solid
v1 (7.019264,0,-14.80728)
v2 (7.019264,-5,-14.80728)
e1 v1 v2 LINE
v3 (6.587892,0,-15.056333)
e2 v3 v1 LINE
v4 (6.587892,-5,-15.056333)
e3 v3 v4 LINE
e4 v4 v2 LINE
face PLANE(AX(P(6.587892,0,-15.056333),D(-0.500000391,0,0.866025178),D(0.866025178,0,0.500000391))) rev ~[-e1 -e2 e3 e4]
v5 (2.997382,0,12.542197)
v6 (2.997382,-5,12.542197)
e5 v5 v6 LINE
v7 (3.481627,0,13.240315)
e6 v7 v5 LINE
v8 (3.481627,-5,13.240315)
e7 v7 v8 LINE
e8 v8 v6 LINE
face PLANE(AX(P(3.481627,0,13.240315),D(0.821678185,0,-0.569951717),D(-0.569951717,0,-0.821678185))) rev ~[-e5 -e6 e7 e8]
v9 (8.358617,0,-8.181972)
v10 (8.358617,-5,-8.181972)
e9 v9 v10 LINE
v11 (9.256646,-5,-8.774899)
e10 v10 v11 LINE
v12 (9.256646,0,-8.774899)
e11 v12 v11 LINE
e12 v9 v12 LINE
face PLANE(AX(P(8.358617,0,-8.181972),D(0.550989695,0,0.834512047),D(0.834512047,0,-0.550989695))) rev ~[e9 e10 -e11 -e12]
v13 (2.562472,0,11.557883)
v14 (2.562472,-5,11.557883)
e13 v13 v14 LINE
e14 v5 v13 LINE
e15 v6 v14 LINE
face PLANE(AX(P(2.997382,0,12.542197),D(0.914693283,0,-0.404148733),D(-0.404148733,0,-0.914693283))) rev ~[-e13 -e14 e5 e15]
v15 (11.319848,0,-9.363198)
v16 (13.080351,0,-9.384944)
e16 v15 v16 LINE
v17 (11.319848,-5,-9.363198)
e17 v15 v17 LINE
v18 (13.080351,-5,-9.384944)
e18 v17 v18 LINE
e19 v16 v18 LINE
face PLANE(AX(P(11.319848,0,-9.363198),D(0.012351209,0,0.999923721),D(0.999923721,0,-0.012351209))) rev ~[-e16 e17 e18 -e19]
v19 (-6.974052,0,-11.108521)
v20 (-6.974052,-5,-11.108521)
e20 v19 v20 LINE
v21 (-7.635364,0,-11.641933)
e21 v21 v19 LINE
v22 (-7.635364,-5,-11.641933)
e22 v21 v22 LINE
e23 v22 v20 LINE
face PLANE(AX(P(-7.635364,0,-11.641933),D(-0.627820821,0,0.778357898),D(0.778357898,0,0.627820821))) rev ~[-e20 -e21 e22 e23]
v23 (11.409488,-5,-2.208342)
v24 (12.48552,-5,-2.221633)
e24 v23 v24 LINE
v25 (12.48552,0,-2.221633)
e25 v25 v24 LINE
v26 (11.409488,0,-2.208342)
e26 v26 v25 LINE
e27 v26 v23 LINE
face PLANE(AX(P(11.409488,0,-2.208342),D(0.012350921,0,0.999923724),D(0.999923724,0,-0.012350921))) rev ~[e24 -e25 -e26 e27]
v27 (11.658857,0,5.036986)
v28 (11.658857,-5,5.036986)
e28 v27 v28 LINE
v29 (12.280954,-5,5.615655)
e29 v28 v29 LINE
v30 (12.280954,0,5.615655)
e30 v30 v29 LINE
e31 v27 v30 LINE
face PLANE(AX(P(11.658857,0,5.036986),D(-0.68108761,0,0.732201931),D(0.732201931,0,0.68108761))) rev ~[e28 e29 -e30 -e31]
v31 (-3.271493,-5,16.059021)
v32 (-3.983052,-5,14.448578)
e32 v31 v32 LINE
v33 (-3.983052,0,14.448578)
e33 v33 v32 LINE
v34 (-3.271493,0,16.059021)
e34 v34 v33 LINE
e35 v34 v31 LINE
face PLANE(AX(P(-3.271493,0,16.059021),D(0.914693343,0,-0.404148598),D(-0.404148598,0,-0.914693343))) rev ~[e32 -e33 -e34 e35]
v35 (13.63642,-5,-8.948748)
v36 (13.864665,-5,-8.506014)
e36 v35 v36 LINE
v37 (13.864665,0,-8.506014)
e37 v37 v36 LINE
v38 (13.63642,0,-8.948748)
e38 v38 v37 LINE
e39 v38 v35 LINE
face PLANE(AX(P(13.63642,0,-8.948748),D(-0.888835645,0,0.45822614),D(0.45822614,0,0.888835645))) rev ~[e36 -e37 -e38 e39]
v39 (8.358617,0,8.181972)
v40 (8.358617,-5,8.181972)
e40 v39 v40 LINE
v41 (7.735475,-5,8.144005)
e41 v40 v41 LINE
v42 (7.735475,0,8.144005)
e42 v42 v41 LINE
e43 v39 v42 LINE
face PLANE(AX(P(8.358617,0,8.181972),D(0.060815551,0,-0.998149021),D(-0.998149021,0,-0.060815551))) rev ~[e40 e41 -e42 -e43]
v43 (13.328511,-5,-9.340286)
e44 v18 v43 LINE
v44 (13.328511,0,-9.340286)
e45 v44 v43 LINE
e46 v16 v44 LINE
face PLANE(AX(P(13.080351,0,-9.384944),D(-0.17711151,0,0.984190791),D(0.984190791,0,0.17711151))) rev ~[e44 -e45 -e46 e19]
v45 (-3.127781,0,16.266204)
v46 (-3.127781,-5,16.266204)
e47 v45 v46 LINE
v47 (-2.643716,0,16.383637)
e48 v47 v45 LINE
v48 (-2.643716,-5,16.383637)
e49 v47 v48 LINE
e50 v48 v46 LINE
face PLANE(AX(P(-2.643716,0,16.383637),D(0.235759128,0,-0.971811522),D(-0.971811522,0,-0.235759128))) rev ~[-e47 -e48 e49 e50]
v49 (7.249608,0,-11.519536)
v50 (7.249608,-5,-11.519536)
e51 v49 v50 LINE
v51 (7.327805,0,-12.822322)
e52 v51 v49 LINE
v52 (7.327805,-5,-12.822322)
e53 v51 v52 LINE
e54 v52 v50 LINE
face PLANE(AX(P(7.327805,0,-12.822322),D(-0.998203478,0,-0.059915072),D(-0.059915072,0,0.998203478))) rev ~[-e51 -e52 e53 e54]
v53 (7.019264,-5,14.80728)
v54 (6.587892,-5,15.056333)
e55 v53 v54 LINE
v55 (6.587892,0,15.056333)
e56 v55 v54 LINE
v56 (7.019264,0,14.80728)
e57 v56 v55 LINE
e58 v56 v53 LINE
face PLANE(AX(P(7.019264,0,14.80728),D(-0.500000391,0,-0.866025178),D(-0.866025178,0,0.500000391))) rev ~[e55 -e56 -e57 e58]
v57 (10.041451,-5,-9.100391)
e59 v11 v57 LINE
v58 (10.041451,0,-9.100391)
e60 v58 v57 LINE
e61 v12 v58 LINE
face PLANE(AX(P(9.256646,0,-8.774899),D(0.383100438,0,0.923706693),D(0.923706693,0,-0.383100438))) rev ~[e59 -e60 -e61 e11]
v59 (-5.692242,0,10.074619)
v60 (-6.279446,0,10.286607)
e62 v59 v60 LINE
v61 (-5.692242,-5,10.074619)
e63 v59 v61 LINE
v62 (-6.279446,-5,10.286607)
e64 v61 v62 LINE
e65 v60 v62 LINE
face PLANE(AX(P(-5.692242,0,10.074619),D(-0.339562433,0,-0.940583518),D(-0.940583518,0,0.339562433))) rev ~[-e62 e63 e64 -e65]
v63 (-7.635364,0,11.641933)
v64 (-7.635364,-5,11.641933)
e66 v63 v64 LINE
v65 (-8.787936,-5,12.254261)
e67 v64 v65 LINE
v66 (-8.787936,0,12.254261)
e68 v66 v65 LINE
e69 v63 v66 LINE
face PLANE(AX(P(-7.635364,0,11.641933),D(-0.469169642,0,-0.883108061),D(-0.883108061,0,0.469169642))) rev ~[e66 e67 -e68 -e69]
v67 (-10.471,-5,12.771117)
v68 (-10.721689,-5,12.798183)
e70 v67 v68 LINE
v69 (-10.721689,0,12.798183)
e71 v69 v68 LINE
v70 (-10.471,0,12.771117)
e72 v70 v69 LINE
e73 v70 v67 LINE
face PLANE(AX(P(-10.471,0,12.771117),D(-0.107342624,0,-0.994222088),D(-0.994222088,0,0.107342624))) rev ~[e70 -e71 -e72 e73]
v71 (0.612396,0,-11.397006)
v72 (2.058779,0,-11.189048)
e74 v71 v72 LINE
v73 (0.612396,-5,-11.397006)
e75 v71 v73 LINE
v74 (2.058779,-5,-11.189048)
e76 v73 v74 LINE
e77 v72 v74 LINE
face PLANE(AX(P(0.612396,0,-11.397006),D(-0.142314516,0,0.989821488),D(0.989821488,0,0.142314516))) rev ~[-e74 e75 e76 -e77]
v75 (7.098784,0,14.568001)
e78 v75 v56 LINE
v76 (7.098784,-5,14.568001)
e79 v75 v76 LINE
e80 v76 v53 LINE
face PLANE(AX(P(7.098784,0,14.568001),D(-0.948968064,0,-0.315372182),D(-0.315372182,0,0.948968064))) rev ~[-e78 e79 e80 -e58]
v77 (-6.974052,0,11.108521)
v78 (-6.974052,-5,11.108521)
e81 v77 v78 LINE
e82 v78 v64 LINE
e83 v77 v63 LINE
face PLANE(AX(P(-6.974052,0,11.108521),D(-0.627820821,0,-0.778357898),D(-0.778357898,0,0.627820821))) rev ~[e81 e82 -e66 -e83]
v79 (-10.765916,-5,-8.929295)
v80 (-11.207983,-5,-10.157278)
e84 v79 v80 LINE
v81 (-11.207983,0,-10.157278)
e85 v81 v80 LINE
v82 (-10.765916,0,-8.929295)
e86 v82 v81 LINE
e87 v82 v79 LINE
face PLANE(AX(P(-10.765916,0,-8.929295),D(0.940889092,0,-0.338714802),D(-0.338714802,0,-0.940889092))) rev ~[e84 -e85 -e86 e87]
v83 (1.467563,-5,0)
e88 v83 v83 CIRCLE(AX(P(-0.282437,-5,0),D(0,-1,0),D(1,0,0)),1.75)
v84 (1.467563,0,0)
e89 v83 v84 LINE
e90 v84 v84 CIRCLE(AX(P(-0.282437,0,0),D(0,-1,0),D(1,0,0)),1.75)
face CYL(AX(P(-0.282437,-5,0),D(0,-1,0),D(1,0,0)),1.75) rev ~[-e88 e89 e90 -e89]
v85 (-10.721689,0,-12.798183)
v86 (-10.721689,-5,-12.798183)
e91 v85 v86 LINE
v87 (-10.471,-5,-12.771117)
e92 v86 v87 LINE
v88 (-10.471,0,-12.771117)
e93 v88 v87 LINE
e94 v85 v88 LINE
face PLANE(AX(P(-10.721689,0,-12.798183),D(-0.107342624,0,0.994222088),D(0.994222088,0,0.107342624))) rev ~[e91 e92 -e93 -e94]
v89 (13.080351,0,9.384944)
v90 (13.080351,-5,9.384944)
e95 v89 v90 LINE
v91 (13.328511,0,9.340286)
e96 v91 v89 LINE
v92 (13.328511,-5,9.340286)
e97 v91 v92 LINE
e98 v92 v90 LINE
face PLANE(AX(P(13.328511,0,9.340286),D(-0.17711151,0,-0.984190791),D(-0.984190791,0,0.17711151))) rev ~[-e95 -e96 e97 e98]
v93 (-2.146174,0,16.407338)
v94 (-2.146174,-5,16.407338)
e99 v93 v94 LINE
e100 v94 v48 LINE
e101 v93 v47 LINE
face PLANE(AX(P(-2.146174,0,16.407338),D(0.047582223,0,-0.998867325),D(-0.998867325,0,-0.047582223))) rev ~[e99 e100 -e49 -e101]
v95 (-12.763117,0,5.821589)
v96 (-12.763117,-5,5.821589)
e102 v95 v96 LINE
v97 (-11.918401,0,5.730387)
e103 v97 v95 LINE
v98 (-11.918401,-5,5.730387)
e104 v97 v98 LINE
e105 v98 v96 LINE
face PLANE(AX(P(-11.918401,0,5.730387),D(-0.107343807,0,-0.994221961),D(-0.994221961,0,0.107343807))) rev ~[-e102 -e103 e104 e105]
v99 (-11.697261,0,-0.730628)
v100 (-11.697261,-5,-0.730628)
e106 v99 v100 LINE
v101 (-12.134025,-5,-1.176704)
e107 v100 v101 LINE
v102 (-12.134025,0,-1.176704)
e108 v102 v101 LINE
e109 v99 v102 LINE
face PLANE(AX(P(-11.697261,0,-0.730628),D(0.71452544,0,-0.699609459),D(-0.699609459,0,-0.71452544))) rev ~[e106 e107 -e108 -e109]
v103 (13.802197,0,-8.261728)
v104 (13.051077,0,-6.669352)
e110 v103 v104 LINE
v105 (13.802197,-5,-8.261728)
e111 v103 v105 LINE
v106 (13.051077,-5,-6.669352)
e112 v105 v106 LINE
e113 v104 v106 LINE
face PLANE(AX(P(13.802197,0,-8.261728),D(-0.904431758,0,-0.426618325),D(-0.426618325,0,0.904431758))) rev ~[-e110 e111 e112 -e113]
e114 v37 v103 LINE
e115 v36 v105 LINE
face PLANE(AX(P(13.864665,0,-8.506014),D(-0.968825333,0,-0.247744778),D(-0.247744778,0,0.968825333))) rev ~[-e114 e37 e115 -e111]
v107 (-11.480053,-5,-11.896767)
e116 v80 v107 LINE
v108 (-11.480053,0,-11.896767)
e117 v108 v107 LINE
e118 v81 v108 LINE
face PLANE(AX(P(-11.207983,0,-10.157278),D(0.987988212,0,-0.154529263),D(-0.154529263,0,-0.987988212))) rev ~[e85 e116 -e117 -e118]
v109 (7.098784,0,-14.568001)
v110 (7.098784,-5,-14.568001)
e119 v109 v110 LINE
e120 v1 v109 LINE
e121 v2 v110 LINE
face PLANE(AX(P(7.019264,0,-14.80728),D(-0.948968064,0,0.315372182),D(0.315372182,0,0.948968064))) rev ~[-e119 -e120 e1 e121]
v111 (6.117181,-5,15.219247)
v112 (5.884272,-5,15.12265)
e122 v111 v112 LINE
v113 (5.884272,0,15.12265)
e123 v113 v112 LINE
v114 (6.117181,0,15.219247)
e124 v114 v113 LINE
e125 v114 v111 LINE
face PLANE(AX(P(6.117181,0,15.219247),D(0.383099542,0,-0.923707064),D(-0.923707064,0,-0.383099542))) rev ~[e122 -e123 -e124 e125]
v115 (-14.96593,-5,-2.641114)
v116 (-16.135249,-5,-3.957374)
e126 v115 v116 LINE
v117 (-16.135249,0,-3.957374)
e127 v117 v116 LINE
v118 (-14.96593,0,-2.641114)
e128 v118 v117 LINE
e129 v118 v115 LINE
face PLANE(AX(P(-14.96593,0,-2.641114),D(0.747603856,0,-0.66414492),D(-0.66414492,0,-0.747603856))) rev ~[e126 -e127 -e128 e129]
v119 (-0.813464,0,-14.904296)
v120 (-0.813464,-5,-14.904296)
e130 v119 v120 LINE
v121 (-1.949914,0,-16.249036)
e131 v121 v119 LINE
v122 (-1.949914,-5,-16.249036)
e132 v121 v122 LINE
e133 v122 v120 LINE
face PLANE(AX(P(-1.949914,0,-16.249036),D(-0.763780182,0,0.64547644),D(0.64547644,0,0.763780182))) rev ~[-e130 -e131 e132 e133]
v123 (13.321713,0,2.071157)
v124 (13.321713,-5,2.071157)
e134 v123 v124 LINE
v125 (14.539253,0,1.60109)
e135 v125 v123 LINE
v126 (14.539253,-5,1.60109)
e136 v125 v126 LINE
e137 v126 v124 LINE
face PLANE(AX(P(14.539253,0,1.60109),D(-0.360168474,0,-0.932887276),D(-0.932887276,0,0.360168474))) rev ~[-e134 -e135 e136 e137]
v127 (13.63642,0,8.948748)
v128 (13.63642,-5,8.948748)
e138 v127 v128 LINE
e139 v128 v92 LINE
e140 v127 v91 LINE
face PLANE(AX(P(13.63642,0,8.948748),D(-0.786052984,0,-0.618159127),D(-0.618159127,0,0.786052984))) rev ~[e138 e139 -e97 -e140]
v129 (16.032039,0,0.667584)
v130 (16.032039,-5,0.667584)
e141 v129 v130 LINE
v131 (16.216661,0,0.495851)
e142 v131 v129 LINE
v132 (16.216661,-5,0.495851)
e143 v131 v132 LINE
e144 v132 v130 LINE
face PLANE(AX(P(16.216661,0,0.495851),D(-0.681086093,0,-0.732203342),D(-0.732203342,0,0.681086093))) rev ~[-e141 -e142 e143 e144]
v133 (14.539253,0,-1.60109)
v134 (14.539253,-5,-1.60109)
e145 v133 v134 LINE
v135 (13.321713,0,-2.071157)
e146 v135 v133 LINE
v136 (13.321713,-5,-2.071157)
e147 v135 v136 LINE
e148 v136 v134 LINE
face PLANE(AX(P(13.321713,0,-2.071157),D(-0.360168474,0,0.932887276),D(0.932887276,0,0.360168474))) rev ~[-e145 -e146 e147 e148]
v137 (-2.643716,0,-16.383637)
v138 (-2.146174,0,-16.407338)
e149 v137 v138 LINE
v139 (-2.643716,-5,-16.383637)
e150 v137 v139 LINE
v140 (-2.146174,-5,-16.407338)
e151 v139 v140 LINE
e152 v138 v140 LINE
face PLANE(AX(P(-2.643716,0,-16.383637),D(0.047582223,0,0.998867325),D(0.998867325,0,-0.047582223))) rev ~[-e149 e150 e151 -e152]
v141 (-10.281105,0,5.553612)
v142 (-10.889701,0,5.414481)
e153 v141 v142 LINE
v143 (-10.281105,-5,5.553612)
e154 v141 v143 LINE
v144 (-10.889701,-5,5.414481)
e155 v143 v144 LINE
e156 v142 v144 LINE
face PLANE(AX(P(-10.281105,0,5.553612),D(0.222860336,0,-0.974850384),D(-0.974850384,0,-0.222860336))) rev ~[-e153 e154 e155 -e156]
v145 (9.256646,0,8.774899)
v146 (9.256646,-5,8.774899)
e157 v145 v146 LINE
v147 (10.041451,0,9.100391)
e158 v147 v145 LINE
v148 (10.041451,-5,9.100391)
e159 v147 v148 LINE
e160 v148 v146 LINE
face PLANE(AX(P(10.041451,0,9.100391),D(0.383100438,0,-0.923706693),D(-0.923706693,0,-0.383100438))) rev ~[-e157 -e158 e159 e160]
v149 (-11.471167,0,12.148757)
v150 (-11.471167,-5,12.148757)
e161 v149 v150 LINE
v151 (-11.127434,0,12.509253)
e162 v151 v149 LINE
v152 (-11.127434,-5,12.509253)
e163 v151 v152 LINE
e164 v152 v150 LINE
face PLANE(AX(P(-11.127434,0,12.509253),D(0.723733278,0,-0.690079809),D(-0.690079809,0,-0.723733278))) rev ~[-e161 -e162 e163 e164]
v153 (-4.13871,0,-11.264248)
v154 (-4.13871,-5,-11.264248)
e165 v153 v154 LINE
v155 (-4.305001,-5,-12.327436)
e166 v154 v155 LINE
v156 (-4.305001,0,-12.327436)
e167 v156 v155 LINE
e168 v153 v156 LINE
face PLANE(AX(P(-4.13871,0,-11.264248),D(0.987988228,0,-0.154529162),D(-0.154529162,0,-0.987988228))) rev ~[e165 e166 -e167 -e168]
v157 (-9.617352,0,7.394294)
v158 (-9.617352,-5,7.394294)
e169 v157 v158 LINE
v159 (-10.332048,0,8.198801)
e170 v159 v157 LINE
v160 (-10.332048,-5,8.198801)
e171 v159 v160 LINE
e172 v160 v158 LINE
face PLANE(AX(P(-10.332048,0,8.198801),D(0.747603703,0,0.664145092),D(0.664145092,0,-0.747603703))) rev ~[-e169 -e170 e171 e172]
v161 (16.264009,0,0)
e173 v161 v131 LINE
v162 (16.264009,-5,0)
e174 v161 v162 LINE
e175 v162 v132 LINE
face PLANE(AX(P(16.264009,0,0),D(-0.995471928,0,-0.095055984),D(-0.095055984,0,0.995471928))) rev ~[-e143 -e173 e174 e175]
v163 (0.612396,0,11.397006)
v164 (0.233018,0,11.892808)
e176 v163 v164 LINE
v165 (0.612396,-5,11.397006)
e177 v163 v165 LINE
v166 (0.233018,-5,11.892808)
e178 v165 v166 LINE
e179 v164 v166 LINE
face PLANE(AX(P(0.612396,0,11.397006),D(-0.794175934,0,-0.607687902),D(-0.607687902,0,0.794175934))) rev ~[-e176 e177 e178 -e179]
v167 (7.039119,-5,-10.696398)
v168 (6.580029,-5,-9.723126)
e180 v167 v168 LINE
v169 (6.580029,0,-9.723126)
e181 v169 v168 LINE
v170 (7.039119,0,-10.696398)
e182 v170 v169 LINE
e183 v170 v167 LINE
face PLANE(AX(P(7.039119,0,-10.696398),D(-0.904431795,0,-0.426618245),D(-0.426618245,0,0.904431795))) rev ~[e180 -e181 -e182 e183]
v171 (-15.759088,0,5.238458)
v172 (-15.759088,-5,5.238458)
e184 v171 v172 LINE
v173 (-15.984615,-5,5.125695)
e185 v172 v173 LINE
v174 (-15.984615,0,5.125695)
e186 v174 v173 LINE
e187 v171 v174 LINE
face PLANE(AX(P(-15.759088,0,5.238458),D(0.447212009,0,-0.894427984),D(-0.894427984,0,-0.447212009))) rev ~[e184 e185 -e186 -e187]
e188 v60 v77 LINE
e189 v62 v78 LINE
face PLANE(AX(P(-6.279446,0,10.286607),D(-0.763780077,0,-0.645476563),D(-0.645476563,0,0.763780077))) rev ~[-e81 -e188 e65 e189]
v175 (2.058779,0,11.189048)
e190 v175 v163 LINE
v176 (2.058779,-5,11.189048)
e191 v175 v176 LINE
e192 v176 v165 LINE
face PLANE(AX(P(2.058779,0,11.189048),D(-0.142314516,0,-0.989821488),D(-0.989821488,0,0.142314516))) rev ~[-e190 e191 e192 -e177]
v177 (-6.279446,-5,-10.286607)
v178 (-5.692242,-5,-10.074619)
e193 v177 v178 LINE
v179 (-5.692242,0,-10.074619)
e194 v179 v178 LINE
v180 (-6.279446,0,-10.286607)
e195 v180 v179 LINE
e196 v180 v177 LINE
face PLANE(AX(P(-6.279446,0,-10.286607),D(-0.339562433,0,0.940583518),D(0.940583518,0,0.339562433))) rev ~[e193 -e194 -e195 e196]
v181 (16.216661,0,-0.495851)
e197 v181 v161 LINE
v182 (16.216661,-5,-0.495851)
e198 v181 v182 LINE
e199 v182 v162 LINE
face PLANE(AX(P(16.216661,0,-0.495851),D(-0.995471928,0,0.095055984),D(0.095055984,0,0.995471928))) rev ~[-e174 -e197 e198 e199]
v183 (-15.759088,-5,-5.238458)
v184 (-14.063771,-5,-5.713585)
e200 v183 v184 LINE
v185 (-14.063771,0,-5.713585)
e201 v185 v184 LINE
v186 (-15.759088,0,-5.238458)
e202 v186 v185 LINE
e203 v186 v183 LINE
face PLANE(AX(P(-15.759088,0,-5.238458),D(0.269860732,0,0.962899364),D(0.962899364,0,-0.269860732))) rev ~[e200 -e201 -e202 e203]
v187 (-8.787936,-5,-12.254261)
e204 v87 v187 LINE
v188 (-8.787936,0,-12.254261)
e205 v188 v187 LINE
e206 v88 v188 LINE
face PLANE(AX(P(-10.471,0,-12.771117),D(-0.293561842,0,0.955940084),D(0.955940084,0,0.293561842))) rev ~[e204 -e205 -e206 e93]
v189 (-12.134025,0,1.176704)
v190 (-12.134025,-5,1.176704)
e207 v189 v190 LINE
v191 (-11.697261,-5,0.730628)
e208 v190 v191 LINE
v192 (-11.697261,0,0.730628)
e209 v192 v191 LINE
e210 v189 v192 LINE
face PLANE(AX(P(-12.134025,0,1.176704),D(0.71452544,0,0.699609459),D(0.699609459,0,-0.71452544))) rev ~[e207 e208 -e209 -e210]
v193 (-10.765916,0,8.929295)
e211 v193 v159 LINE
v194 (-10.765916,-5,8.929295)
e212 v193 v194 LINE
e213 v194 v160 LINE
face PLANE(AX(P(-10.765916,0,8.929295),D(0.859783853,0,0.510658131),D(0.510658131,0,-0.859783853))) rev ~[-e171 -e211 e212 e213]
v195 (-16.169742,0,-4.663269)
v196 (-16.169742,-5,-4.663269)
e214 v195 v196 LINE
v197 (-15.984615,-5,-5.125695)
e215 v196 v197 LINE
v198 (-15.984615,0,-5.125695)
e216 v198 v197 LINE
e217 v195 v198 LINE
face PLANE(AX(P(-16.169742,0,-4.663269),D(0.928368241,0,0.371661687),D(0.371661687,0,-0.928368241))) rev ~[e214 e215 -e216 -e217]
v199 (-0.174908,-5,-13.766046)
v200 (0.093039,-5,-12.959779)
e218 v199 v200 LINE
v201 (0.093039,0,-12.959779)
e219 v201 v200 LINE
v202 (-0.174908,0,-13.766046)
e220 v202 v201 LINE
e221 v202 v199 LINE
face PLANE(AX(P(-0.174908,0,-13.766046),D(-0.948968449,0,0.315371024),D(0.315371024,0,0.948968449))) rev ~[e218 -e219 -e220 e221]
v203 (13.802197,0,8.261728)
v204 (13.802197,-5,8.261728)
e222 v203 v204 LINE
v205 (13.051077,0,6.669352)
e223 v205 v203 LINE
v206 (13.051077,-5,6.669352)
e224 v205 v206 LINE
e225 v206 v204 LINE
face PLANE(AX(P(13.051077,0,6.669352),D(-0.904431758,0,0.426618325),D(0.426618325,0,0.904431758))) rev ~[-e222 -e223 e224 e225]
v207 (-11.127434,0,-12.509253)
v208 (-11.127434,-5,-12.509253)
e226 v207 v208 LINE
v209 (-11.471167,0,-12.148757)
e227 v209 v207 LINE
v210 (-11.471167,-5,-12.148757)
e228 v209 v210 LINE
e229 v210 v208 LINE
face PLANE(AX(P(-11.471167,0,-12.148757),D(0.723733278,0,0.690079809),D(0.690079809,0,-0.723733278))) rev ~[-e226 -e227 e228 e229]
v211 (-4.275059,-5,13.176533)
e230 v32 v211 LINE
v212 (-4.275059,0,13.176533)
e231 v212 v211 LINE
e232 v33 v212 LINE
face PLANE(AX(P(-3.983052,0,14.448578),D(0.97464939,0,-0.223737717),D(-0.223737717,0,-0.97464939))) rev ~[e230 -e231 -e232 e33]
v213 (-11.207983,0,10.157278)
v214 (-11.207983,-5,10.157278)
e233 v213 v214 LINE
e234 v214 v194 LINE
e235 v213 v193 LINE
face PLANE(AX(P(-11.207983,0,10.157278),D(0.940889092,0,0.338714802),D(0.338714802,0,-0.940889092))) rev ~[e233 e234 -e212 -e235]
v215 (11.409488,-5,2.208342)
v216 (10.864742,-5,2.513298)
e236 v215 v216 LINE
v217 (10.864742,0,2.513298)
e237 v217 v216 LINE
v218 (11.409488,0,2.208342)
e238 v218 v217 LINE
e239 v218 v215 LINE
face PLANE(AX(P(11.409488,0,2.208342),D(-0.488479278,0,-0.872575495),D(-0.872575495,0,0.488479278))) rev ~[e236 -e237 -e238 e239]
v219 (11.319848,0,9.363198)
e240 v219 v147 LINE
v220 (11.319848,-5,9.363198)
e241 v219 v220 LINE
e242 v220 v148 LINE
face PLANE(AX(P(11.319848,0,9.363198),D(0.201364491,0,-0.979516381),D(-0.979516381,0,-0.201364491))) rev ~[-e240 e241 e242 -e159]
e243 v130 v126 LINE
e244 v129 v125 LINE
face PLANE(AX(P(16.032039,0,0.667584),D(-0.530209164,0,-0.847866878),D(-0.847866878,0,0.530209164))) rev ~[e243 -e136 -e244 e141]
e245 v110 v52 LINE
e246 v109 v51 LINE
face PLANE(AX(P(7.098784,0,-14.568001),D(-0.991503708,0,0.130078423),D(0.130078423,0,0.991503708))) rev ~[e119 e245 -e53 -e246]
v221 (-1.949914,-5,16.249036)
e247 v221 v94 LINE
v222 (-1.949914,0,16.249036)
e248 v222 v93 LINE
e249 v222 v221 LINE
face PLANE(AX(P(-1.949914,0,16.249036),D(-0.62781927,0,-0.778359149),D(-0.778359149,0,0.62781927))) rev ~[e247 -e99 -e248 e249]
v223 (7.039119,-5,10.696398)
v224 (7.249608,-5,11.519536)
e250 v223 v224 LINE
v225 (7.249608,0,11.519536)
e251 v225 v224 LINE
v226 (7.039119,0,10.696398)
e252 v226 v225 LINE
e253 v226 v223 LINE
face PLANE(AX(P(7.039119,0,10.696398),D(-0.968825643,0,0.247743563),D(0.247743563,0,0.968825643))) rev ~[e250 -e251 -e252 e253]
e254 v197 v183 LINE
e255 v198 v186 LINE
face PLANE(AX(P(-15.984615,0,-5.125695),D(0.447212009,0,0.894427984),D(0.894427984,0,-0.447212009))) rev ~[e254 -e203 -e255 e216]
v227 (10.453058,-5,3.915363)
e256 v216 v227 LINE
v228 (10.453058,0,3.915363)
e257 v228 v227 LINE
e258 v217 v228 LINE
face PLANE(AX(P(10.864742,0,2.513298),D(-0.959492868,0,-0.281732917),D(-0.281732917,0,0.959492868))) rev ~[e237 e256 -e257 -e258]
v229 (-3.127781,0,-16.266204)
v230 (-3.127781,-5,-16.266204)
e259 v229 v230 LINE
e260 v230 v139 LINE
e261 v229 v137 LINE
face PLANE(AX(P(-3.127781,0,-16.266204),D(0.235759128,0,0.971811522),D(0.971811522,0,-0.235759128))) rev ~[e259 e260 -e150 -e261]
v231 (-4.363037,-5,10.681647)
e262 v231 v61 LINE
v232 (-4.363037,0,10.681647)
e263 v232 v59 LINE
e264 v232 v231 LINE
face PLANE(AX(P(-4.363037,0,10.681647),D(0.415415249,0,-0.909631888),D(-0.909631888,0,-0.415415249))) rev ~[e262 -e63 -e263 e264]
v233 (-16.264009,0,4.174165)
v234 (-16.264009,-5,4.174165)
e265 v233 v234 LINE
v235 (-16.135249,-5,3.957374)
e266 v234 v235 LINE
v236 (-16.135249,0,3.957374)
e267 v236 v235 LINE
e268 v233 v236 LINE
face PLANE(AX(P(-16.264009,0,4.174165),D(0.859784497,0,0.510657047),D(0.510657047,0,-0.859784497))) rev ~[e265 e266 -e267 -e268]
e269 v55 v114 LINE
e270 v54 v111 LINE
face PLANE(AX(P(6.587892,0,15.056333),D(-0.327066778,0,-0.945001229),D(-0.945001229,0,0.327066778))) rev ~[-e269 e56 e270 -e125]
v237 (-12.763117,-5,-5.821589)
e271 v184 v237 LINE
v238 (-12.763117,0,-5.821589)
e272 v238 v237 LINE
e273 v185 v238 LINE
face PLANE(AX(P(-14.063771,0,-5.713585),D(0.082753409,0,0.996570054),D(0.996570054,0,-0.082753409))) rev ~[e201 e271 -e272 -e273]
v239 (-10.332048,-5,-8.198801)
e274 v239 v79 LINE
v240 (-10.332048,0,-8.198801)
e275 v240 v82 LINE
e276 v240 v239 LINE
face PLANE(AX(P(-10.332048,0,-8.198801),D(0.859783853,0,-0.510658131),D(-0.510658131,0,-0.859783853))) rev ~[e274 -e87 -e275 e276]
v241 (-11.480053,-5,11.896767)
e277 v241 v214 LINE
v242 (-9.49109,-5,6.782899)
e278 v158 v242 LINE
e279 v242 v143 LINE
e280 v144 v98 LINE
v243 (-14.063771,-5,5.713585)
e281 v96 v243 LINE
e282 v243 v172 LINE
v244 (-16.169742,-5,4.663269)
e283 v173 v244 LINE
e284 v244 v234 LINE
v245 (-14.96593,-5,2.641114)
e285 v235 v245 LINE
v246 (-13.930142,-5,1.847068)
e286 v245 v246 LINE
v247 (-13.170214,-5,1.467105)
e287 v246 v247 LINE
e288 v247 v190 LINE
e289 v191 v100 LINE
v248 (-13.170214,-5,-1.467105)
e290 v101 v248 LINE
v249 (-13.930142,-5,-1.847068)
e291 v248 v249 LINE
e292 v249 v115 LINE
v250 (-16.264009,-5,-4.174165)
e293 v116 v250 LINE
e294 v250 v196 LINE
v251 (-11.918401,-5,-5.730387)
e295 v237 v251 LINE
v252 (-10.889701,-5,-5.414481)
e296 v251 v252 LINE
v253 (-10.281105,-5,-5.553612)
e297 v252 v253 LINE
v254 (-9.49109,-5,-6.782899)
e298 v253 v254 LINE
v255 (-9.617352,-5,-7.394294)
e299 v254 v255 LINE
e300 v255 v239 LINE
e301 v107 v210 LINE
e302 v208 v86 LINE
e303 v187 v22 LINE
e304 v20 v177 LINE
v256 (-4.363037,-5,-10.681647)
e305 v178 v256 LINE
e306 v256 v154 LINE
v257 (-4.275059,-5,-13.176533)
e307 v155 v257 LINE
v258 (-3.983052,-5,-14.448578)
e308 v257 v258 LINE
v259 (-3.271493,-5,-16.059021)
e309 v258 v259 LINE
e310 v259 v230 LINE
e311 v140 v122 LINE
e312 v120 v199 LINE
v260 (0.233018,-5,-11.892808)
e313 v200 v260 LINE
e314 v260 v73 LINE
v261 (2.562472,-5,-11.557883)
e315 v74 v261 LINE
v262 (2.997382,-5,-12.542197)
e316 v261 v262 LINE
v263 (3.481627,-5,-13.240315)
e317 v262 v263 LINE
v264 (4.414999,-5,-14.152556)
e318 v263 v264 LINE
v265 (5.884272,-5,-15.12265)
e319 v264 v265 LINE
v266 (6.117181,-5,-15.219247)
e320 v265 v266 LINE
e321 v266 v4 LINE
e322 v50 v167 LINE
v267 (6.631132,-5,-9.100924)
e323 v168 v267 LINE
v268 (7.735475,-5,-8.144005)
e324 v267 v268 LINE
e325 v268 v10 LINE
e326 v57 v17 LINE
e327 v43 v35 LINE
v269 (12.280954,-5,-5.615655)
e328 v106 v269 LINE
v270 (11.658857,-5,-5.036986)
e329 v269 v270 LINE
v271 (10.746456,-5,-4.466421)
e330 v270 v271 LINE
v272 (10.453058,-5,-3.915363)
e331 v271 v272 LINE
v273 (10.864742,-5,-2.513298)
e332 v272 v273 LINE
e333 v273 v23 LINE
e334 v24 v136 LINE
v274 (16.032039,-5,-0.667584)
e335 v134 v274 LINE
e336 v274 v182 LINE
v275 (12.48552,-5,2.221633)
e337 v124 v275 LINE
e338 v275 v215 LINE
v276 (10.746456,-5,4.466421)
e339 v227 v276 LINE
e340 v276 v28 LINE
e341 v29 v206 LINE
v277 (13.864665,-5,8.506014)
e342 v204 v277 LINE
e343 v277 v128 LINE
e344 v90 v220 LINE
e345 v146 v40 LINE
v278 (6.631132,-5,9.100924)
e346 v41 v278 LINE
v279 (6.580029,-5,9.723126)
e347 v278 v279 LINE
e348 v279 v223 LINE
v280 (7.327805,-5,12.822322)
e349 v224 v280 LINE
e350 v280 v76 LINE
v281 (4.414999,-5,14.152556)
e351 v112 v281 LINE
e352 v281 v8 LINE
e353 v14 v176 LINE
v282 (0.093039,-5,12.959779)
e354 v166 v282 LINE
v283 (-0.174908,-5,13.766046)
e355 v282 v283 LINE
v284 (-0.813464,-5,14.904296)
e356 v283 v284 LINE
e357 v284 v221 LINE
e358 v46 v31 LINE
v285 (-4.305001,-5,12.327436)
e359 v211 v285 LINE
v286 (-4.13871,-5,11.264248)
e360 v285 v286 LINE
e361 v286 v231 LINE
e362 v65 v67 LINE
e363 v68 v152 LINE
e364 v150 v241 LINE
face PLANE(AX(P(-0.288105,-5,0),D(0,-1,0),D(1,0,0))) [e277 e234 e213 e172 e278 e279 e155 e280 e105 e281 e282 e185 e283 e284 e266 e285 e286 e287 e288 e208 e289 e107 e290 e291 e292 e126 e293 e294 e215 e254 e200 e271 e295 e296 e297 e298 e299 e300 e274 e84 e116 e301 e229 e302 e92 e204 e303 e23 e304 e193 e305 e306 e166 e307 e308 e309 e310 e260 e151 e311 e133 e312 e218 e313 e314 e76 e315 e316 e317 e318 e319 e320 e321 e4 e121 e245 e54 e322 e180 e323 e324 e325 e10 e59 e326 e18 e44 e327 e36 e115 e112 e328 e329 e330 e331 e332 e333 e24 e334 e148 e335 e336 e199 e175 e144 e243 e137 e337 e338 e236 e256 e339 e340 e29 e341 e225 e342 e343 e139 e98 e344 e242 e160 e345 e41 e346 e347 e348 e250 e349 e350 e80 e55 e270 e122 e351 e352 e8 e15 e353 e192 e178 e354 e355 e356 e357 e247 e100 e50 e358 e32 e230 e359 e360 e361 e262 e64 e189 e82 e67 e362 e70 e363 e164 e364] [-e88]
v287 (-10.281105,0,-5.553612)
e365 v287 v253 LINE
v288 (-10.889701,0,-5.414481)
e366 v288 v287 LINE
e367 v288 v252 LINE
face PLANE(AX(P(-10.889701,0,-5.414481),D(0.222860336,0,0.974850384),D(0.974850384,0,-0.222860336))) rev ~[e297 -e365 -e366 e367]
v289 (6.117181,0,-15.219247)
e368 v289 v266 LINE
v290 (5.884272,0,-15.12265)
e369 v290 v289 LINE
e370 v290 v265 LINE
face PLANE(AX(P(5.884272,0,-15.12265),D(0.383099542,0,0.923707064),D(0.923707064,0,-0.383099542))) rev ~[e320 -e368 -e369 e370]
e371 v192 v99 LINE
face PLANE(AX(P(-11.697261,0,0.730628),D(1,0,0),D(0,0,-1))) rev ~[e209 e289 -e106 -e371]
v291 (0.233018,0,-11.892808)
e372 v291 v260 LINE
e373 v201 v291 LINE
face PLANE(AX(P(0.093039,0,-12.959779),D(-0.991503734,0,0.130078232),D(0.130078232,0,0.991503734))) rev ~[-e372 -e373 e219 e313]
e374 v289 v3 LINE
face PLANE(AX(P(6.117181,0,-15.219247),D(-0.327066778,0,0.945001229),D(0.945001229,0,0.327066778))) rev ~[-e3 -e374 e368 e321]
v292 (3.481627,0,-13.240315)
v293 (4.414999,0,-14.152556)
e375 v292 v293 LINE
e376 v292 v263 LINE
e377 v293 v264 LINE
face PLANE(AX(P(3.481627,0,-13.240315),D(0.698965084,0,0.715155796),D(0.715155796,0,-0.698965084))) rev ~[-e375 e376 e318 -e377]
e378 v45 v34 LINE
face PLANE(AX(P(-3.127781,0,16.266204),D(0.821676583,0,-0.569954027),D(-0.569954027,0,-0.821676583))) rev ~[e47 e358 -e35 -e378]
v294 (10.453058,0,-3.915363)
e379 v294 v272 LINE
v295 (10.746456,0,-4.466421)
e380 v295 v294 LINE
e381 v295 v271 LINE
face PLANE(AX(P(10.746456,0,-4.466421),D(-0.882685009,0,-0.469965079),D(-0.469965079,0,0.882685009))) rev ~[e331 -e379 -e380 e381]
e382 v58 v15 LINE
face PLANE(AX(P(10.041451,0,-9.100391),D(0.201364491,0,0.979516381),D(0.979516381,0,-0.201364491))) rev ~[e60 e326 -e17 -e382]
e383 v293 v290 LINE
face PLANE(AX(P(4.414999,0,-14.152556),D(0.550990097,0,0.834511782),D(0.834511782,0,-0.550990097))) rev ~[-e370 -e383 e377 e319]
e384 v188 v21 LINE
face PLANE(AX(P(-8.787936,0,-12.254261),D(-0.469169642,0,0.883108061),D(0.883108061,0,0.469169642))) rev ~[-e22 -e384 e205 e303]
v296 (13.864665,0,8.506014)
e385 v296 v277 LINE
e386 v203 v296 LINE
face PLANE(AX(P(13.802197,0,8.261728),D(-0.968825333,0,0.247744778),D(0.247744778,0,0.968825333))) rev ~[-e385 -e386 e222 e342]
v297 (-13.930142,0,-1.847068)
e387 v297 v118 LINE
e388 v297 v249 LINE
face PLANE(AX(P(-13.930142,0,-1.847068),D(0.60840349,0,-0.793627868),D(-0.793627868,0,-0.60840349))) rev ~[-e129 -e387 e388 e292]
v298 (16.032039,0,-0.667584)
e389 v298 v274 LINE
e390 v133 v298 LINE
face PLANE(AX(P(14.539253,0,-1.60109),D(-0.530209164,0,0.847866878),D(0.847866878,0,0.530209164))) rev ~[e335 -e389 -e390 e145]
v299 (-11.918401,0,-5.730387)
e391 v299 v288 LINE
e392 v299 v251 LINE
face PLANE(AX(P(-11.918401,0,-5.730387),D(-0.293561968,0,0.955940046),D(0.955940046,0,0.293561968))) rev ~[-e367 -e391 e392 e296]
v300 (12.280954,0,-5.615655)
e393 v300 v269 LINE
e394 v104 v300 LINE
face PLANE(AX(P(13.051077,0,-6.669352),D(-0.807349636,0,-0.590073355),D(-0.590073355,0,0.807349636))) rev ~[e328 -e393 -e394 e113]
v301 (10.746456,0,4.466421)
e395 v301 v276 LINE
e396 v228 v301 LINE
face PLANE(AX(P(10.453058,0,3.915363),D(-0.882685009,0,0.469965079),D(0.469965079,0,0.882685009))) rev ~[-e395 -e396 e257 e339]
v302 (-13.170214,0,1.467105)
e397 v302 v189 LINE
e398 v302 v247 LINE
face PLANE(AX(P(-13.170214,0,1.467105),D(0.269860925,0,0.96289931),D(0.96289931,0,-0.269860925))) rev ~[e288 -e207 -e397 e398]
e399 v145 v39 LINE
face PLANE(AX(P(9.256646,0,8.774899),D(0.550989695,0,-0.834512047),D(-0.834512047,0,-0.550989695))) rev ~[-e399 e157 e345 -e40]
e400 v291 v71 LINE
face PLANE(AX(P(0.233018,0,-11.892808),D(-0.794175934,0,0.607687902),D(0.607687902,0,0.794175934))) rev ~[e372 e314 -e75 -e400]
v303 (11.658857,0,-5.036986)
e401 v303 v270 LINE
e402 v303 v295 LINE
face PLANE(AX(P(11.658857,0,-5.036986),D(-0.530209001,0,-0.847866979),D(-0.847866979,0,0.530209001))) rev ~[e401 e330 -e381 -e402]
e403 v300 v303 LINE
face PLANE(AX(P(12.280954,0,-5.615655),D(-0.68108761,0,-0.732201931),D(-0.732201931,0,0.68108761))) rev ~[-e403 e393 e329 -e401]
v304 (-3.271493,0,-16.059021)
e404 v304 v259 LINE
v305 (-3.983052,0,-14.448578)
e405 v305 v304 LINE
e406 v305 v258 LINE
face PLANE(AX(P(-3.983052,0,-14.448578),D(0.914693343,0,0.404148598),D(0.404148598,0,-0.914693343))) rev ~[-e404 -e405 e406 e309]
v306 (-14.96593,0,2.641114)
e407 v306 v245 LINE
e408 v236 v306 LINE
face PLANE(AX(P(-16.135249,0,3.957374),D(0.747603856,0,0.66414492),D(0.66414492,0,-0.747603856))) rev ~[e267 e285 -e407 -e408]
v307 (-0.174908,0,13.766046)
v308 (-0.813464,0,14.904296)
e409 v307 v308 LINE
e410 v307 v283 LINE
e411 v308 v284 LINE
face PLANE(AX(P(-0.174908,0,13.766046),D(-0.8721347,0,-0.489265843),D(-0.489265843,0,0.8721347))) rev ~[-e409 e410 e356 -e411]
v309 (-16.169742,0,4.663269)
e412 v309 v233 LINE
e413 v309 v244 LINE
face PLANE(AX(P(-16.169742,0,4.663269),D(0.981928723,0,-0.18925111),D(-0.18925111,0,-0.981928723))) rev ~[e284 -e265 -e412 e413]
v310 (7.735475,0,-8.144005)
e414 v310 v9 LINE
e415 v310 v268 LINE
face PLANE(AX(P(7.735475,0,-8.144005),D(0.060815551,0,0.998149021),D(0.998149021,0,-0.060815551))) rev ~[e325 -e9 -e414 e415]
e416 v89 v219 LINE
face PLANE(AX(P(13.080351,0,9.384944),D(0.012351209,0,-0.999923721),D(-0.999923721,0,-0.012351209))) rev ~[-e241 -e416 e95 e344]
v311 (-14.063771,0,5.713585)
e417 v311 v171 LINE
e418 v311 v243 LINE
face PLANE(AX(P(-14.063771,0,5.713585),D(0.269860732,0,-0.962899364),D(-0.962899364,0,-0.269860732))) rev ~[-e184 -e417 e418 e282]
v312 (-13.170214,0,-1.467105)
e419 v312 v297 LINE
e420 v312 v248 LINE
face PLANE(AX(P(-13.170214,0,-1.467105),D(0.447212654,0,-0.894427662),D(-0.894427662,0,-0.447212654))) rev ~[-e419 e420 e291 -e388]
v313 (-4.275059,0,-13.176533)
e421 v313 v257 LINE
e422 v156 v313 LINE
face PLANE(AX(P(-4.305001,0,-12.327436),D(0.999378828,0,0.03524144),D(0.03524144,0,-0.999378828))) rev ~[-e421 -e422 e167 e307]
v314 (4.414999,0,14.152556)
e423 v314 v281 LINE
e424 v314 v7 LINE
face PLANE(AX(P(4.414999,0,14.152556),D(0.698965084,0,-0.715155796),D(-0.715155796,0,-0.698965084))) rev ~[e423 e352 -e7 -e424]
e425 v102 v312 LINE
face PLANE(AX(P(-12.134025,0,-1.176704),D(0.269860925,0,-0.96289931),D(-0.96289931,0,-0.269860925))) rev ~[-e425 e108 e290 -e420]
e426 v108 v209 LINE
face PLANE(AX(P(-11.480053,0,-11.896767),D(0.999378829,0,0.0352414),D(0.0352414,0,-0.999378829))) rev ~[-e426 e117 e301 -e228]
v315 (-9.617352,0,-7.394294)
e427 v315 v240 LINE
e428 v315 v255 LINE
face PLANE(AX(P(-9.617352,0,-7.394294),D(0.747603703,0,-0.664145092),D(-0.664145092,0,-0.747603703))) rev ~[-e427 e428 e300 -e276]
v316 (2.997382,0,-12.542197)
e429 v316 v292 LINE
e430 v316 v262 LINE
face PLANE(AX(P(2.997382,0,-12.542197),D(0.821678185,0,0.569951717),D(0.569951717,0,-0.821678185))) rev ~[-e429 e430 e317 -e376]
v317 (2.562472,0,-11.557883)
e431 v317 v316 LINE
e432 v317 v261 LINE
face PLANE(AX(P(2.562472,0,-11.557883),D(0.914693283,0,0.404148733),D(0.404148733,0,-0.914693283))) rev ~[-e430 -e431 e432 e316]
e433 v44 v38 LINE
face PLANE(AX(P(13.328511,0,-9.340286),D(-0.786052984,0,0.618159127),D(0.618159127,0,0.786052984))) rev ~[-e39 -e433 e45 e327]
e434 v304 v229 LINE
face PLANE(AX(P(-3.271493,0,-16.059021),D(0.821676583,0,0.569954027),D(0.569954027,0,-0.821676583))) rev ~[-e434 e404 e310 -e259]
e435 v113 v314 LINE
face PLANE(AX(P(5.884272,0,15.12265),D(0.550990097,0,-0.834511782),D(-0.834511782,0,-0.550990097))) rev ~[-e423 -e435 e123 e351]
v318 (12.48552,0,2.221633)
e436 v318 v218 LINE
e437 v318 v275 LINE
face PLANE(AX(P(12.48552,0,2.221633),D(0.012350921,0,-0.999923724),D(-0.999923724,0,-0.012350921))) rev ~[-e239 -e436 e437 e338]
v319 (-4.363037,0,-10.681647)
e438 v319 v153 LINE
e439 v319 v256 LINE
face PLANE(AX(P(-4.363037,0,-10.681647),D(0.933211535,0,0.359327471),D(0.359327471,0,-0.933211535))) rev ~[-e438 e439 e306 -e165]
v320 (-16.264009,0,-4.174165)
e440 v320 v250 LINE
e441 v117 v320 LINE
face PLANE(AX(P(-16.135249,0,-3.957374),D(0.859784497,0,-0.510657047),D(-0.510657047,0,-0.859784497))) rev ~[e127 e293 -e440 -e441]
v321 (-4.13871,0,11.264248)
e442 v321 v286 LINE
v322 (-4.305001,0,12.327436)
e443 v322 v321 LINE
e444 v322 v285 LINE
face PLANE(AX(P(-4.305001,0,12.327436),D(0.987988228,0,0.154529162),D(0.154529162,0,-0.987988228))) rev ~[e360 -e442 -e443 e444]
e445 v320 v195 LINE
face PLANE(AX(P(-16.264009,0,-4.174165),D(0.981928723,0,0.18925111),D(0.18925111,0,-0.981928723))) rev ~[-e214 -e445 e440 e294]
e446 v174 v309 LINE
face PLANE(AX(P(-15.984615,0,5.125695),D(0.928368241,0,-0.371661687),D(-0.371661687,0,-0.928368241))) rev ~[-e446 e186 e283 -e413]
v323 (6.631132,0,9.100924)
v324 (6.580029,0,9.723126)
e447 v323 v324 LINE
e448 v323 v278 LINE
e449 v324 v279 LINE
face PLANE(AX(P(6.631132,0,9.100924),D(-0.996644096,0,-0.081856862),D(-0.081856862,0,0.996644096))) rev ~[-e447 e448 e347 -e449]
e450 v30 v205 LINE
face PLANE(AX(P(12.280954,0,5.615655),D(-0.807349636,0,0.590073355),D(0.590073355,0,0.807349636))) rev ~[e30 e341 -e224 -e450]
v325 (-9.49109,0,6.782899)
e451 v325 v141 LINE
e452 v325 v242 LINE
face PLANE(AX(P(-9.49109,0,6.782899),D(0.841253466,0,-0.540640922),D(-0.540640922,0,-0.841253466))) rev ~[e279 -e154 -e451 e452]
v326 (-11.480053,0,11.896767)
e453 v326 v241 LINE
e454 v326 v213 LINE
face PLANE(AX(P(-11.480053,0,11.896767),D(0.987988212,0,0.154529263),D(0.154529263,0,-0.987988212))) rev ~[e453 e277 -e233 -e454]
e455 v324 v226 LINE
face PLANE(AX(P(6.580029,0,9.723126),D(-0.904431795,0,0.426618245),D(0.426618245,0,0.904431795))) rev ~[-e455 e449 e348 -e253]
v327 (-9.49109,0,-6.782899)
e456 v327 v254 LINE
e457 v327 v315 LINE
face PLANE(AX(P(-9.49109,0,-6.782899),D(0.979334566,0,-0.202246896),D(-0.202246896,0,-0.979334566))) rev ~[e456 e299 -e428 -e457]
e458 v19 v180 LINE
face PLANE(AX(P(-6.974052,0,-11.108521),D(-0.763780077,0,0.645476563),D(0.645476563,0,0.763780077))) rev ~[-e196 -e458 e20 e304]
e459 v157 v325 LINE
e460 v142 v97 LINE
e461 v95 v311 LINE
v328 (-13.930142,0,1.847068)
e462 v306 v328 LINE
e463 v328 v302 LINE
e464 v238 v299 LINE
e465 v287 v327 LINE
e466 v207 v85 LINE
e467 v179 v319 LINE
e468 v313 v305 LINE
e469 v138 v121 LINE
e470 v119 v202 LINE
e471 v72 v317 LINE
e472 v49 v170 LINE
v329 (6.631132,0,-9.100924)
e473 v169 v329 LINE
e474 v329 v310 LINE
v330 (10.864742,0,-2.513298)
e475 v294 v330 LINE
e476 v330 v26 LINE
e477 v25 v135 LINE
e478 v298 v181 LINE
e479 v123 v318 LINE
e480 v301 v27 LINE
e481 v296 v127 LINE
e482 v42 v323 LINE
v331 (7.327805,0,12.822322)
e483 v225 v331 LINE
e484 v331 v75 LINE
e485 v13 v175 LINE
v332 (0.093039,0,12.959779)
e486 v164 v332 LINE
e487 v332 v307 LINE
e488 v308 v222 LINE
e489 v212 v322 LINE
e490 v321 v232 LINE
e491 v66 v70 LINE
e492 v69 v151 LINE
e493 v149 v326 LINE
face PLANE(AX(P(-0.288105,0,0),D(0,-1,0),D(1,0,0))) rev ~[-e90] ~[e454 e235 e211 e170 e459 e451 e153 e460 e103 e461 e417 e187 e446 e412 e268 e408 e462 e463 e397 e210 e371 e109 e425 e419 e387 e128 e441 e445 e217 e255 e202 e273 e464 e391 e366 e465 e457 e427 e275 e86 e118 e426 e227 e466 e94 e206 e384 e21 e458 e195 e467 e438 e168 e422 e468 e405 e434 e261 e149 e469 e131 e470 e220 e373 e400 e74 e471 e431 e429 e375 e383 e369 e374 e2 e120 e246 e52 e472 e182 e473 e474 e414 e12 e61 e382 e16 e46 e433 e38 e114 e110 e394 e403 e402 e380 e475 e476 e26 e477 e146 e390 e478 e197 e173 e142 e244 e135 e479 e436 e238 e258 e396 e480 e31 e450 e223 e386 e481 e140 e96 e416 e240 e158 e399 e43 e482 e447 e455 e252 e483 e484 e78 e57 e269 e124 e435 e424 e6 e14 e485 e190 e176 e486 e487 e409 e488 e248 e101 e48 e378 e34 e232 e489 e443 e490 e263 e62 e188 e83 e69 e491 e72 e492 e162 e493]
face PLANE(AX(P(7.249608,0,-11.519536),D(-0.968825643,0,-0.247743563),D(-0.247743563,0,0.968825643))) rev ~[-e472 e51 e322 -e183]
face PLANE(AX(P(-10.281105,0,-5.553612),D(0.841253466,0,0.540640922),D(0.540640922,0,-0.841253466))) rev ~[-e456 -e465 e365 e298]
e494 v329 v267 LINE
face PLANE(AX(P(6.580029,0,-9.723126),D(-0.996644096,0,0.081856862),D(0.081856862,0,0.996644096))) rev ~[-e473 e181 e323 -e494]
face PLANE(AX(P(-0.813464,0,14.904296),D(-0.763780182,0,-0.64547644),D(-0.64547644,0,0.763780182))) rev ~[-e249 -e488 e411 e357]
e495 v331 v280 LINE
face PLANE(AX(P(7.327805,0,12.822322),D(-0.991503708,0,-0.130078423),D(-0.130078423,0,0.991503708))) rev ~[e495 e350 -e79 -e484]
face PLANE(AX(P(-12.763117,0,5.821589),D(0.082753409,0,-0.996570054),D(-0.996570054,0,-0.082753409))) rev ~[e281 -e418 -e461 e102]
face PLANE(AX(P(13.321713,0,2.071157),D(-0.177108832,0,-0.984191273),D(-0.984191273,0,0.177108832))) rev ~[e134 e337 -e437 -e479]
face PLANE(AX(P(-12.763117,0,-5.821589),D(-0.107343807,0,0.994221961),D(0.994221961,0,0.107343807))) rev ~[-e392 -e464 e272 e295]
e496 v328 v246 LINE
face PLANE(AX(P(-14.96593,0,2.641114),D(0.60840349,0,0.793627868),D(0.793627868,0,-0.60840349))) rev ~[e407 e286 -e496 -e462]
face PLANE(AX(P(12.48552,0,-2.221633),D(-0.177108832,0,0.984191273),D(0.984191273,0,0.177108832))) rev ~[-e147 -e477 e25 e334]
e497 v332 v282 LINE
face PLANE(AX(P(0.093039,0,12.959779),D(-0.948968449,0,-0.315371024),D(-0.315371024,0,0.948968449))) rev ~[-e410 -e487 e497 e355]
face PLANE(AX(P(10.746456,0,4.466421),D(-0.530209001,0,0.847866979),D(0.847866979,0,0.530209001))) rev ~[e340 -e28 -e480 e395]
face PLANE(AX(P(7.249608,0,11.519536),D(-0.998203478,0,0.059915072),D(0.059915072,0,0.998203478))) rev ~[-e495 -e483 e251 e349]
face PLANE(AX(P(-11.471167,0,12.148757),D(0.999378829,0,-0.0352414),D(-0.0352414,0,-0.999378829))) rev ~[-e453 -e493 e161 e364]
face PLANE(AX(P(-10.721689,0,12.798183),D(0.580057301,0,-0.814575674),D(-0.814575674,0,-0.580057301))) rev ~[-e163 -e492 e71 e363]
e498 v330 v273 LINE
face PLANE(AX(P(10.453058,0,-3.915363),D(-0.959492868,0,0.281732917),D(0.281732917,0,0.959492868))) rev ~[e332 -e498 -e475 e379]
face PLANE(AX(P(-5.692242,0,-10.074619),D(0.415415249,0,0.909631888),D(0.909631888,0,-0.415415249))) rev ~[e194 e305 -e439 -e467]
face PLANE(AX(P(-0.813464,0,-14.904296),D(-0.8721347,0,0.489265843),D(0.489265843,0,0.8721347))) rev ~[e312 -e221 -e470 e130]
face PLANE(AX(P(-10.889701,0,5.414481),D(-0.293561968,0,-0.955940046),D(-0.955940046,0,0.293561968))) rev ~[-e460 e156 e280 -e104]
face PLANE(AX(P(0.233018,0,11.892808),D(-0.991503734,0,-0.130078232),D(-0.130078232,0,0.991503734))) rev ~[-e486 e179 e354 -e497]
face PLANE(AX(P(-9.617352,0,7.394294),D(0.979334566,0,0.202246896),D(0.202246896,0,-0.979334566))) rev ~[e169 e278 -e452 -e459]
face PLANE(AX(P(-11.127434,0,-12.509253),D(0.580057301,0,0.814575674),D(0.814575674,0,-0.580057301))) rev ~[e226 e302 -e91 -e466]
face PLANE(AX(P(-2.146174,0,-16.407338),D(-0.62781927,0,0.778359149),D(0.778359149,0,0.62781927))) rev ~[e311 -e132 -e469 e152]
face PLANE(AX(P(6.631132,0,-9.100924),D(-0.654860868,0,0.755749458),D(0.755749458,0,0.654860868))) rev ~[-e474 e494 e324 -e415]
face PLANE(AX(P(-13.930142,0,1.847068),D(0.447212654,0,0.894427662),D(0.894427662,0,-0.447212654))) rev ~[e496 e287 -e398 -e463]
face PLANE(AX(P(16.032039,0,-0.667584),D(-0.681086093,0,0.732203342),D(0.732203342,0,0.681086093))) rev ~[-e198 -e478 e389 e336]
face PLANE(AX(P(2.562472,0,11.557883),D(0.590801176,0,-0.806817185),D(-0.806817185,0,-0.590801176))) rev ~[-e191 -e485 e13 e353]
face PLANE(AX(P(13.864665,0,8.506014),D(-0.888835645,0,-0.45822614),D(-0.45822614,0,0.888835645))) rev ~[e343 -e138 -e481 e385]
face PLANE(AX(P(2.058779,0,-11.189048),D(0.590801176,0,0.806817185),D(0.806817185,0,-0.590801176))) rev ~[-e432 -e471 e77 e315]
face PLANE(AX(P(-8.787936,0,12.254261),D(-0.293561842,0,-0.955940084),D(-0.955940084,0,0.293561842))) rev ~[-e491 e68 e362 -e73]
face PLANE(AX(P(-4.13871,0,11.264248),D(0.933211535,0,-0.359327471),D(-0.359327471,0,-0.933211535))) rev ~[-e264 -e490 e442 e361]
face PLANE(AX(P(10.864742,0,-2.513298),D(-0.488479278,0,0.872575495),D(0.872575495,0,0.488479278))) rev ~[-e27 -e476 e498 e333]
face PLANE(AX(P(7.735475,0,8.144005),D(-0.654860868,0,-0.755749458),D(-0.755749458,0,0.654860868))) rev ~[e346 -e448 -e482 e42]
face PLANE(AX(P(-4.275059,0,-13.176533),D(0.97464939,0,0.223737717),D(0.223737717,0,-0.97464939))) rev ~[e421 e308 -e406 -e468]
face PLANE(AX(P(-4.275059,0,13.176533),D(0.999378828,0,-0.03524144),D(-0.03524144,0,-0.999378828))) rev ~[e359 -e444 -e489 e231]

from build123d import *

# Parameters (mm, degrees)
F1_DEPTH = 5
F2_R     = 1.75
F3_DEPTH = 25


with BuildPart() as f1:
    # F0 (on Front) → F1 (new body)
    with BuildSketch(Plane.XZ):
        Polygon((-15.759088, 5.238458), (-15.984615, 5.125695), (-16.169742, 4.663269), (-16.264009, 4.174165), (-16.135249, 3.957374), (-14.96593, 2.641114), (-13.930142, 1.847068), (-13.170214, 1.467105), (-12.134025, 1.176704), (-11.697261, 0.730628), (-11.697261, -0.730628), (-12.134025, -1.176704), (-13.170214, -1.467105), (-13.930142, -1.847068), (-14.96593, -2.641114), (-16.135249, -3.957374), (-16.264009, -4.174165), (-16.169742, -4.663269), (-15.984615, -5.125695), (-15.759088, -5.238458), (-14.063771, -5.713585), (-12.763117, -5.821589), (-11.918401, -5.730387), (-10.889701, -5.414481), (-10.281105, -5.553612), (-9.49109, -6.782899), (-9.617352, -7.394294), (-10.332048, -8.198801), (-10.765916, -8.929295), (-11.207983, -10.157278), (-11.480053, -11.896767), (-11.471167, -12.148757), (-11.127434, -12.509253), (-10.721689, -12.798183), (-10.471, -12.771117), (-8.787936, -12.254261), (-7.635364, -11.641933), (-6.974052, -11.108521), (-6.279446, -10.286607), (-5.692242, -10.074619), (-4.363037, -10.681647), (-4.13871, -11.264248), (-4.305001, -12.327436), (-4.275059, -13.176533), (-3.983052, -14.448578), (-3.271493, -16.059021), (-3.127781, -16.266204), (-2.643716, -16.383637), (-2.146174, -16.407338), (-1.949914, -16.249036), (-0.813464, -14.904296), (-0.174908, -13.766046), (0.093039, -12.959779), (0.233018, -11.892808), (0.612396, -11.397006), (2.058779, -11.189048), (2.562472, -11.557883), (2.997382, -12.542197), (3.481627, -13.240315), (4.414999, -14.152556), (5.884272, -15.12265), (6.117181, -15.219247), (6.587892, -15.056333), (7.019264, -14.80728), (7.098784, -14.568001), (7.327805, -12.822322), (7.249608, -11.519536), (7.039119, -10.696398), (6.580029, -9.723126), (6.631132, -9.100924), (7.735475, -8.144005), (8.358617, -8.181972), (9.256646, -8.774899), (10.041451, -9.100391), (11.319848, -9.363198), (13.080351, -9.384944), (13.328511, -9.340286), (13.63642, -8.948748), (13.864665, -8.506014), (13.802197, -8.261728), (13.051077, -6.669352), (12.280954, -5.615655), (11.658857, -5.036986), (10.746456, -4.466421), (10.453058, -3.915363), (10.864742, -2.513298), (11.409488, -2.208342), (12.48552, -2.221633), (13.321713, -2.071157), (14.539253, -1.60109), (16.032039, -0.667584), (16.216661, -0.495851), (16.264009, 0), (16.216661, 0.495851), (16.032039, 0.667584), (14.539253, 1.60109), (13.321713, 2.071157), (12.48552, 2.221633), (11.409488, 2.208342), (10.864742, 2.513298), (10.453058, 3.915363), (10.746456, 4.466421), (11.658857, 5.036986), (12.280954, 5.615655), (13.051077, 6.669352), (13.802197, 8.261728), (13.864665, 8.506014), (13.63642, 8.948748), (13.328511, 9.340286), (13.080351, 9.384944), (11.319848, 9.363198), (10.041451, 9.100391), (9.256646, 8.774899), (8.358617, 8.181972), (7.735475, 8.144005), (6.631132, 9.100924), (6.580029, 9.723126), (7.039119, 10.696398), (7.249608, 11.519536), (7.327805, 12.822322), (7.098784, 14.568001), (7.019264, 14.80728), (6.587892, 15.056333), (6.117181, 15.219247), (5.884272, 15.12265), (4.414999, 14.152556), (3.481627, 13.240315), (2.997382, 12.542197), (2.562472, 11.557883), (2.058779, 11.189048), (0.612396, 11.397006), (0.233018, 11.892808), (0.093039, 12.959779), (-0.174908, 13.766046), (-0.813464, 14.904296), (-1.949914, 16.249036), (-2.146174, 16.407338), (-2.643716, 16.383637), (-3.127781, 16.266204), (-3.271493, 16.059021), (-3.983052, 14.448578), (-4.275059, 13.176533), (-4.305001, 12.327436), (-4.13871, 11.264248), (-4.363037, 10.681647), (-5.692242, 10.074619), (-6.279446, 10.286607), (-6.974052, 11.108521), (-7.635364, 11.641933), (-8.787936, 12.254261), (-10.471, 12.771117), (-10.721689, 12.798183), (-11.127434, 12.509253), (-11.471167, 12.148757), (-11.480053, 11.896767), (-11.207983, 10.157278), (-10.765916, 8.929295), (-10.332048, 8.198801), (-9.617352, 7.394294), (-9.49109, 6.782899), (-10.281105, 5.553612), (-10.889701, 5.414481), (-11.918401, 5.730387), (-12.763117, 5.821589), (-14.063771, 5.713585), align=None)
        Polygon((-1.27575, 1.161973), (-1.01258, 1.341924), (-0.717747, 1.463227), (-0.404136, 1.520579), (-0.085455, 1.511475), (0.22437, 1.436313), (0.511798, 1.298376), (0.764266, 1.103694), (0.97074, 0.860776), (1.122196, 0.580237), (1.212016, 0.27434), (1.236273, -0.043548), (1.193908, -0.359532), (1.086771, -0.659803), (0.919546, -0.931238), (0.699541, -1.161973), (0.436371, -1.341924), (0.141537, -1.463227), (-0.172073, -1.520579), (-0.490755, -1.511475), (-0.80058, -1.436313), (-1.088008, -1.298376), (-1.340475, -1.103694), (-1.546949, -0.860776), (-1.698406, -0.580237), (-1.788226, -0.27434), (-1.812483, 0.043548), (-1.770117, 0.359532), (-1.662981, 0.659803), (-1.495756, 0.931238), align=None, mode=Mode.SUBTRACT)
    extrude(amount=F1_DEPTH)

    # F2 (on face) → F3 (cut)
    with BuildSketch(Plane.XZ.offset(5)):
        with Locations((-0.282437, 0)):
            Circle(F2_R)
    extrude(amount=-F3_DEPTH, mode=Mode.SUBTRACT)


solid = f1.part
